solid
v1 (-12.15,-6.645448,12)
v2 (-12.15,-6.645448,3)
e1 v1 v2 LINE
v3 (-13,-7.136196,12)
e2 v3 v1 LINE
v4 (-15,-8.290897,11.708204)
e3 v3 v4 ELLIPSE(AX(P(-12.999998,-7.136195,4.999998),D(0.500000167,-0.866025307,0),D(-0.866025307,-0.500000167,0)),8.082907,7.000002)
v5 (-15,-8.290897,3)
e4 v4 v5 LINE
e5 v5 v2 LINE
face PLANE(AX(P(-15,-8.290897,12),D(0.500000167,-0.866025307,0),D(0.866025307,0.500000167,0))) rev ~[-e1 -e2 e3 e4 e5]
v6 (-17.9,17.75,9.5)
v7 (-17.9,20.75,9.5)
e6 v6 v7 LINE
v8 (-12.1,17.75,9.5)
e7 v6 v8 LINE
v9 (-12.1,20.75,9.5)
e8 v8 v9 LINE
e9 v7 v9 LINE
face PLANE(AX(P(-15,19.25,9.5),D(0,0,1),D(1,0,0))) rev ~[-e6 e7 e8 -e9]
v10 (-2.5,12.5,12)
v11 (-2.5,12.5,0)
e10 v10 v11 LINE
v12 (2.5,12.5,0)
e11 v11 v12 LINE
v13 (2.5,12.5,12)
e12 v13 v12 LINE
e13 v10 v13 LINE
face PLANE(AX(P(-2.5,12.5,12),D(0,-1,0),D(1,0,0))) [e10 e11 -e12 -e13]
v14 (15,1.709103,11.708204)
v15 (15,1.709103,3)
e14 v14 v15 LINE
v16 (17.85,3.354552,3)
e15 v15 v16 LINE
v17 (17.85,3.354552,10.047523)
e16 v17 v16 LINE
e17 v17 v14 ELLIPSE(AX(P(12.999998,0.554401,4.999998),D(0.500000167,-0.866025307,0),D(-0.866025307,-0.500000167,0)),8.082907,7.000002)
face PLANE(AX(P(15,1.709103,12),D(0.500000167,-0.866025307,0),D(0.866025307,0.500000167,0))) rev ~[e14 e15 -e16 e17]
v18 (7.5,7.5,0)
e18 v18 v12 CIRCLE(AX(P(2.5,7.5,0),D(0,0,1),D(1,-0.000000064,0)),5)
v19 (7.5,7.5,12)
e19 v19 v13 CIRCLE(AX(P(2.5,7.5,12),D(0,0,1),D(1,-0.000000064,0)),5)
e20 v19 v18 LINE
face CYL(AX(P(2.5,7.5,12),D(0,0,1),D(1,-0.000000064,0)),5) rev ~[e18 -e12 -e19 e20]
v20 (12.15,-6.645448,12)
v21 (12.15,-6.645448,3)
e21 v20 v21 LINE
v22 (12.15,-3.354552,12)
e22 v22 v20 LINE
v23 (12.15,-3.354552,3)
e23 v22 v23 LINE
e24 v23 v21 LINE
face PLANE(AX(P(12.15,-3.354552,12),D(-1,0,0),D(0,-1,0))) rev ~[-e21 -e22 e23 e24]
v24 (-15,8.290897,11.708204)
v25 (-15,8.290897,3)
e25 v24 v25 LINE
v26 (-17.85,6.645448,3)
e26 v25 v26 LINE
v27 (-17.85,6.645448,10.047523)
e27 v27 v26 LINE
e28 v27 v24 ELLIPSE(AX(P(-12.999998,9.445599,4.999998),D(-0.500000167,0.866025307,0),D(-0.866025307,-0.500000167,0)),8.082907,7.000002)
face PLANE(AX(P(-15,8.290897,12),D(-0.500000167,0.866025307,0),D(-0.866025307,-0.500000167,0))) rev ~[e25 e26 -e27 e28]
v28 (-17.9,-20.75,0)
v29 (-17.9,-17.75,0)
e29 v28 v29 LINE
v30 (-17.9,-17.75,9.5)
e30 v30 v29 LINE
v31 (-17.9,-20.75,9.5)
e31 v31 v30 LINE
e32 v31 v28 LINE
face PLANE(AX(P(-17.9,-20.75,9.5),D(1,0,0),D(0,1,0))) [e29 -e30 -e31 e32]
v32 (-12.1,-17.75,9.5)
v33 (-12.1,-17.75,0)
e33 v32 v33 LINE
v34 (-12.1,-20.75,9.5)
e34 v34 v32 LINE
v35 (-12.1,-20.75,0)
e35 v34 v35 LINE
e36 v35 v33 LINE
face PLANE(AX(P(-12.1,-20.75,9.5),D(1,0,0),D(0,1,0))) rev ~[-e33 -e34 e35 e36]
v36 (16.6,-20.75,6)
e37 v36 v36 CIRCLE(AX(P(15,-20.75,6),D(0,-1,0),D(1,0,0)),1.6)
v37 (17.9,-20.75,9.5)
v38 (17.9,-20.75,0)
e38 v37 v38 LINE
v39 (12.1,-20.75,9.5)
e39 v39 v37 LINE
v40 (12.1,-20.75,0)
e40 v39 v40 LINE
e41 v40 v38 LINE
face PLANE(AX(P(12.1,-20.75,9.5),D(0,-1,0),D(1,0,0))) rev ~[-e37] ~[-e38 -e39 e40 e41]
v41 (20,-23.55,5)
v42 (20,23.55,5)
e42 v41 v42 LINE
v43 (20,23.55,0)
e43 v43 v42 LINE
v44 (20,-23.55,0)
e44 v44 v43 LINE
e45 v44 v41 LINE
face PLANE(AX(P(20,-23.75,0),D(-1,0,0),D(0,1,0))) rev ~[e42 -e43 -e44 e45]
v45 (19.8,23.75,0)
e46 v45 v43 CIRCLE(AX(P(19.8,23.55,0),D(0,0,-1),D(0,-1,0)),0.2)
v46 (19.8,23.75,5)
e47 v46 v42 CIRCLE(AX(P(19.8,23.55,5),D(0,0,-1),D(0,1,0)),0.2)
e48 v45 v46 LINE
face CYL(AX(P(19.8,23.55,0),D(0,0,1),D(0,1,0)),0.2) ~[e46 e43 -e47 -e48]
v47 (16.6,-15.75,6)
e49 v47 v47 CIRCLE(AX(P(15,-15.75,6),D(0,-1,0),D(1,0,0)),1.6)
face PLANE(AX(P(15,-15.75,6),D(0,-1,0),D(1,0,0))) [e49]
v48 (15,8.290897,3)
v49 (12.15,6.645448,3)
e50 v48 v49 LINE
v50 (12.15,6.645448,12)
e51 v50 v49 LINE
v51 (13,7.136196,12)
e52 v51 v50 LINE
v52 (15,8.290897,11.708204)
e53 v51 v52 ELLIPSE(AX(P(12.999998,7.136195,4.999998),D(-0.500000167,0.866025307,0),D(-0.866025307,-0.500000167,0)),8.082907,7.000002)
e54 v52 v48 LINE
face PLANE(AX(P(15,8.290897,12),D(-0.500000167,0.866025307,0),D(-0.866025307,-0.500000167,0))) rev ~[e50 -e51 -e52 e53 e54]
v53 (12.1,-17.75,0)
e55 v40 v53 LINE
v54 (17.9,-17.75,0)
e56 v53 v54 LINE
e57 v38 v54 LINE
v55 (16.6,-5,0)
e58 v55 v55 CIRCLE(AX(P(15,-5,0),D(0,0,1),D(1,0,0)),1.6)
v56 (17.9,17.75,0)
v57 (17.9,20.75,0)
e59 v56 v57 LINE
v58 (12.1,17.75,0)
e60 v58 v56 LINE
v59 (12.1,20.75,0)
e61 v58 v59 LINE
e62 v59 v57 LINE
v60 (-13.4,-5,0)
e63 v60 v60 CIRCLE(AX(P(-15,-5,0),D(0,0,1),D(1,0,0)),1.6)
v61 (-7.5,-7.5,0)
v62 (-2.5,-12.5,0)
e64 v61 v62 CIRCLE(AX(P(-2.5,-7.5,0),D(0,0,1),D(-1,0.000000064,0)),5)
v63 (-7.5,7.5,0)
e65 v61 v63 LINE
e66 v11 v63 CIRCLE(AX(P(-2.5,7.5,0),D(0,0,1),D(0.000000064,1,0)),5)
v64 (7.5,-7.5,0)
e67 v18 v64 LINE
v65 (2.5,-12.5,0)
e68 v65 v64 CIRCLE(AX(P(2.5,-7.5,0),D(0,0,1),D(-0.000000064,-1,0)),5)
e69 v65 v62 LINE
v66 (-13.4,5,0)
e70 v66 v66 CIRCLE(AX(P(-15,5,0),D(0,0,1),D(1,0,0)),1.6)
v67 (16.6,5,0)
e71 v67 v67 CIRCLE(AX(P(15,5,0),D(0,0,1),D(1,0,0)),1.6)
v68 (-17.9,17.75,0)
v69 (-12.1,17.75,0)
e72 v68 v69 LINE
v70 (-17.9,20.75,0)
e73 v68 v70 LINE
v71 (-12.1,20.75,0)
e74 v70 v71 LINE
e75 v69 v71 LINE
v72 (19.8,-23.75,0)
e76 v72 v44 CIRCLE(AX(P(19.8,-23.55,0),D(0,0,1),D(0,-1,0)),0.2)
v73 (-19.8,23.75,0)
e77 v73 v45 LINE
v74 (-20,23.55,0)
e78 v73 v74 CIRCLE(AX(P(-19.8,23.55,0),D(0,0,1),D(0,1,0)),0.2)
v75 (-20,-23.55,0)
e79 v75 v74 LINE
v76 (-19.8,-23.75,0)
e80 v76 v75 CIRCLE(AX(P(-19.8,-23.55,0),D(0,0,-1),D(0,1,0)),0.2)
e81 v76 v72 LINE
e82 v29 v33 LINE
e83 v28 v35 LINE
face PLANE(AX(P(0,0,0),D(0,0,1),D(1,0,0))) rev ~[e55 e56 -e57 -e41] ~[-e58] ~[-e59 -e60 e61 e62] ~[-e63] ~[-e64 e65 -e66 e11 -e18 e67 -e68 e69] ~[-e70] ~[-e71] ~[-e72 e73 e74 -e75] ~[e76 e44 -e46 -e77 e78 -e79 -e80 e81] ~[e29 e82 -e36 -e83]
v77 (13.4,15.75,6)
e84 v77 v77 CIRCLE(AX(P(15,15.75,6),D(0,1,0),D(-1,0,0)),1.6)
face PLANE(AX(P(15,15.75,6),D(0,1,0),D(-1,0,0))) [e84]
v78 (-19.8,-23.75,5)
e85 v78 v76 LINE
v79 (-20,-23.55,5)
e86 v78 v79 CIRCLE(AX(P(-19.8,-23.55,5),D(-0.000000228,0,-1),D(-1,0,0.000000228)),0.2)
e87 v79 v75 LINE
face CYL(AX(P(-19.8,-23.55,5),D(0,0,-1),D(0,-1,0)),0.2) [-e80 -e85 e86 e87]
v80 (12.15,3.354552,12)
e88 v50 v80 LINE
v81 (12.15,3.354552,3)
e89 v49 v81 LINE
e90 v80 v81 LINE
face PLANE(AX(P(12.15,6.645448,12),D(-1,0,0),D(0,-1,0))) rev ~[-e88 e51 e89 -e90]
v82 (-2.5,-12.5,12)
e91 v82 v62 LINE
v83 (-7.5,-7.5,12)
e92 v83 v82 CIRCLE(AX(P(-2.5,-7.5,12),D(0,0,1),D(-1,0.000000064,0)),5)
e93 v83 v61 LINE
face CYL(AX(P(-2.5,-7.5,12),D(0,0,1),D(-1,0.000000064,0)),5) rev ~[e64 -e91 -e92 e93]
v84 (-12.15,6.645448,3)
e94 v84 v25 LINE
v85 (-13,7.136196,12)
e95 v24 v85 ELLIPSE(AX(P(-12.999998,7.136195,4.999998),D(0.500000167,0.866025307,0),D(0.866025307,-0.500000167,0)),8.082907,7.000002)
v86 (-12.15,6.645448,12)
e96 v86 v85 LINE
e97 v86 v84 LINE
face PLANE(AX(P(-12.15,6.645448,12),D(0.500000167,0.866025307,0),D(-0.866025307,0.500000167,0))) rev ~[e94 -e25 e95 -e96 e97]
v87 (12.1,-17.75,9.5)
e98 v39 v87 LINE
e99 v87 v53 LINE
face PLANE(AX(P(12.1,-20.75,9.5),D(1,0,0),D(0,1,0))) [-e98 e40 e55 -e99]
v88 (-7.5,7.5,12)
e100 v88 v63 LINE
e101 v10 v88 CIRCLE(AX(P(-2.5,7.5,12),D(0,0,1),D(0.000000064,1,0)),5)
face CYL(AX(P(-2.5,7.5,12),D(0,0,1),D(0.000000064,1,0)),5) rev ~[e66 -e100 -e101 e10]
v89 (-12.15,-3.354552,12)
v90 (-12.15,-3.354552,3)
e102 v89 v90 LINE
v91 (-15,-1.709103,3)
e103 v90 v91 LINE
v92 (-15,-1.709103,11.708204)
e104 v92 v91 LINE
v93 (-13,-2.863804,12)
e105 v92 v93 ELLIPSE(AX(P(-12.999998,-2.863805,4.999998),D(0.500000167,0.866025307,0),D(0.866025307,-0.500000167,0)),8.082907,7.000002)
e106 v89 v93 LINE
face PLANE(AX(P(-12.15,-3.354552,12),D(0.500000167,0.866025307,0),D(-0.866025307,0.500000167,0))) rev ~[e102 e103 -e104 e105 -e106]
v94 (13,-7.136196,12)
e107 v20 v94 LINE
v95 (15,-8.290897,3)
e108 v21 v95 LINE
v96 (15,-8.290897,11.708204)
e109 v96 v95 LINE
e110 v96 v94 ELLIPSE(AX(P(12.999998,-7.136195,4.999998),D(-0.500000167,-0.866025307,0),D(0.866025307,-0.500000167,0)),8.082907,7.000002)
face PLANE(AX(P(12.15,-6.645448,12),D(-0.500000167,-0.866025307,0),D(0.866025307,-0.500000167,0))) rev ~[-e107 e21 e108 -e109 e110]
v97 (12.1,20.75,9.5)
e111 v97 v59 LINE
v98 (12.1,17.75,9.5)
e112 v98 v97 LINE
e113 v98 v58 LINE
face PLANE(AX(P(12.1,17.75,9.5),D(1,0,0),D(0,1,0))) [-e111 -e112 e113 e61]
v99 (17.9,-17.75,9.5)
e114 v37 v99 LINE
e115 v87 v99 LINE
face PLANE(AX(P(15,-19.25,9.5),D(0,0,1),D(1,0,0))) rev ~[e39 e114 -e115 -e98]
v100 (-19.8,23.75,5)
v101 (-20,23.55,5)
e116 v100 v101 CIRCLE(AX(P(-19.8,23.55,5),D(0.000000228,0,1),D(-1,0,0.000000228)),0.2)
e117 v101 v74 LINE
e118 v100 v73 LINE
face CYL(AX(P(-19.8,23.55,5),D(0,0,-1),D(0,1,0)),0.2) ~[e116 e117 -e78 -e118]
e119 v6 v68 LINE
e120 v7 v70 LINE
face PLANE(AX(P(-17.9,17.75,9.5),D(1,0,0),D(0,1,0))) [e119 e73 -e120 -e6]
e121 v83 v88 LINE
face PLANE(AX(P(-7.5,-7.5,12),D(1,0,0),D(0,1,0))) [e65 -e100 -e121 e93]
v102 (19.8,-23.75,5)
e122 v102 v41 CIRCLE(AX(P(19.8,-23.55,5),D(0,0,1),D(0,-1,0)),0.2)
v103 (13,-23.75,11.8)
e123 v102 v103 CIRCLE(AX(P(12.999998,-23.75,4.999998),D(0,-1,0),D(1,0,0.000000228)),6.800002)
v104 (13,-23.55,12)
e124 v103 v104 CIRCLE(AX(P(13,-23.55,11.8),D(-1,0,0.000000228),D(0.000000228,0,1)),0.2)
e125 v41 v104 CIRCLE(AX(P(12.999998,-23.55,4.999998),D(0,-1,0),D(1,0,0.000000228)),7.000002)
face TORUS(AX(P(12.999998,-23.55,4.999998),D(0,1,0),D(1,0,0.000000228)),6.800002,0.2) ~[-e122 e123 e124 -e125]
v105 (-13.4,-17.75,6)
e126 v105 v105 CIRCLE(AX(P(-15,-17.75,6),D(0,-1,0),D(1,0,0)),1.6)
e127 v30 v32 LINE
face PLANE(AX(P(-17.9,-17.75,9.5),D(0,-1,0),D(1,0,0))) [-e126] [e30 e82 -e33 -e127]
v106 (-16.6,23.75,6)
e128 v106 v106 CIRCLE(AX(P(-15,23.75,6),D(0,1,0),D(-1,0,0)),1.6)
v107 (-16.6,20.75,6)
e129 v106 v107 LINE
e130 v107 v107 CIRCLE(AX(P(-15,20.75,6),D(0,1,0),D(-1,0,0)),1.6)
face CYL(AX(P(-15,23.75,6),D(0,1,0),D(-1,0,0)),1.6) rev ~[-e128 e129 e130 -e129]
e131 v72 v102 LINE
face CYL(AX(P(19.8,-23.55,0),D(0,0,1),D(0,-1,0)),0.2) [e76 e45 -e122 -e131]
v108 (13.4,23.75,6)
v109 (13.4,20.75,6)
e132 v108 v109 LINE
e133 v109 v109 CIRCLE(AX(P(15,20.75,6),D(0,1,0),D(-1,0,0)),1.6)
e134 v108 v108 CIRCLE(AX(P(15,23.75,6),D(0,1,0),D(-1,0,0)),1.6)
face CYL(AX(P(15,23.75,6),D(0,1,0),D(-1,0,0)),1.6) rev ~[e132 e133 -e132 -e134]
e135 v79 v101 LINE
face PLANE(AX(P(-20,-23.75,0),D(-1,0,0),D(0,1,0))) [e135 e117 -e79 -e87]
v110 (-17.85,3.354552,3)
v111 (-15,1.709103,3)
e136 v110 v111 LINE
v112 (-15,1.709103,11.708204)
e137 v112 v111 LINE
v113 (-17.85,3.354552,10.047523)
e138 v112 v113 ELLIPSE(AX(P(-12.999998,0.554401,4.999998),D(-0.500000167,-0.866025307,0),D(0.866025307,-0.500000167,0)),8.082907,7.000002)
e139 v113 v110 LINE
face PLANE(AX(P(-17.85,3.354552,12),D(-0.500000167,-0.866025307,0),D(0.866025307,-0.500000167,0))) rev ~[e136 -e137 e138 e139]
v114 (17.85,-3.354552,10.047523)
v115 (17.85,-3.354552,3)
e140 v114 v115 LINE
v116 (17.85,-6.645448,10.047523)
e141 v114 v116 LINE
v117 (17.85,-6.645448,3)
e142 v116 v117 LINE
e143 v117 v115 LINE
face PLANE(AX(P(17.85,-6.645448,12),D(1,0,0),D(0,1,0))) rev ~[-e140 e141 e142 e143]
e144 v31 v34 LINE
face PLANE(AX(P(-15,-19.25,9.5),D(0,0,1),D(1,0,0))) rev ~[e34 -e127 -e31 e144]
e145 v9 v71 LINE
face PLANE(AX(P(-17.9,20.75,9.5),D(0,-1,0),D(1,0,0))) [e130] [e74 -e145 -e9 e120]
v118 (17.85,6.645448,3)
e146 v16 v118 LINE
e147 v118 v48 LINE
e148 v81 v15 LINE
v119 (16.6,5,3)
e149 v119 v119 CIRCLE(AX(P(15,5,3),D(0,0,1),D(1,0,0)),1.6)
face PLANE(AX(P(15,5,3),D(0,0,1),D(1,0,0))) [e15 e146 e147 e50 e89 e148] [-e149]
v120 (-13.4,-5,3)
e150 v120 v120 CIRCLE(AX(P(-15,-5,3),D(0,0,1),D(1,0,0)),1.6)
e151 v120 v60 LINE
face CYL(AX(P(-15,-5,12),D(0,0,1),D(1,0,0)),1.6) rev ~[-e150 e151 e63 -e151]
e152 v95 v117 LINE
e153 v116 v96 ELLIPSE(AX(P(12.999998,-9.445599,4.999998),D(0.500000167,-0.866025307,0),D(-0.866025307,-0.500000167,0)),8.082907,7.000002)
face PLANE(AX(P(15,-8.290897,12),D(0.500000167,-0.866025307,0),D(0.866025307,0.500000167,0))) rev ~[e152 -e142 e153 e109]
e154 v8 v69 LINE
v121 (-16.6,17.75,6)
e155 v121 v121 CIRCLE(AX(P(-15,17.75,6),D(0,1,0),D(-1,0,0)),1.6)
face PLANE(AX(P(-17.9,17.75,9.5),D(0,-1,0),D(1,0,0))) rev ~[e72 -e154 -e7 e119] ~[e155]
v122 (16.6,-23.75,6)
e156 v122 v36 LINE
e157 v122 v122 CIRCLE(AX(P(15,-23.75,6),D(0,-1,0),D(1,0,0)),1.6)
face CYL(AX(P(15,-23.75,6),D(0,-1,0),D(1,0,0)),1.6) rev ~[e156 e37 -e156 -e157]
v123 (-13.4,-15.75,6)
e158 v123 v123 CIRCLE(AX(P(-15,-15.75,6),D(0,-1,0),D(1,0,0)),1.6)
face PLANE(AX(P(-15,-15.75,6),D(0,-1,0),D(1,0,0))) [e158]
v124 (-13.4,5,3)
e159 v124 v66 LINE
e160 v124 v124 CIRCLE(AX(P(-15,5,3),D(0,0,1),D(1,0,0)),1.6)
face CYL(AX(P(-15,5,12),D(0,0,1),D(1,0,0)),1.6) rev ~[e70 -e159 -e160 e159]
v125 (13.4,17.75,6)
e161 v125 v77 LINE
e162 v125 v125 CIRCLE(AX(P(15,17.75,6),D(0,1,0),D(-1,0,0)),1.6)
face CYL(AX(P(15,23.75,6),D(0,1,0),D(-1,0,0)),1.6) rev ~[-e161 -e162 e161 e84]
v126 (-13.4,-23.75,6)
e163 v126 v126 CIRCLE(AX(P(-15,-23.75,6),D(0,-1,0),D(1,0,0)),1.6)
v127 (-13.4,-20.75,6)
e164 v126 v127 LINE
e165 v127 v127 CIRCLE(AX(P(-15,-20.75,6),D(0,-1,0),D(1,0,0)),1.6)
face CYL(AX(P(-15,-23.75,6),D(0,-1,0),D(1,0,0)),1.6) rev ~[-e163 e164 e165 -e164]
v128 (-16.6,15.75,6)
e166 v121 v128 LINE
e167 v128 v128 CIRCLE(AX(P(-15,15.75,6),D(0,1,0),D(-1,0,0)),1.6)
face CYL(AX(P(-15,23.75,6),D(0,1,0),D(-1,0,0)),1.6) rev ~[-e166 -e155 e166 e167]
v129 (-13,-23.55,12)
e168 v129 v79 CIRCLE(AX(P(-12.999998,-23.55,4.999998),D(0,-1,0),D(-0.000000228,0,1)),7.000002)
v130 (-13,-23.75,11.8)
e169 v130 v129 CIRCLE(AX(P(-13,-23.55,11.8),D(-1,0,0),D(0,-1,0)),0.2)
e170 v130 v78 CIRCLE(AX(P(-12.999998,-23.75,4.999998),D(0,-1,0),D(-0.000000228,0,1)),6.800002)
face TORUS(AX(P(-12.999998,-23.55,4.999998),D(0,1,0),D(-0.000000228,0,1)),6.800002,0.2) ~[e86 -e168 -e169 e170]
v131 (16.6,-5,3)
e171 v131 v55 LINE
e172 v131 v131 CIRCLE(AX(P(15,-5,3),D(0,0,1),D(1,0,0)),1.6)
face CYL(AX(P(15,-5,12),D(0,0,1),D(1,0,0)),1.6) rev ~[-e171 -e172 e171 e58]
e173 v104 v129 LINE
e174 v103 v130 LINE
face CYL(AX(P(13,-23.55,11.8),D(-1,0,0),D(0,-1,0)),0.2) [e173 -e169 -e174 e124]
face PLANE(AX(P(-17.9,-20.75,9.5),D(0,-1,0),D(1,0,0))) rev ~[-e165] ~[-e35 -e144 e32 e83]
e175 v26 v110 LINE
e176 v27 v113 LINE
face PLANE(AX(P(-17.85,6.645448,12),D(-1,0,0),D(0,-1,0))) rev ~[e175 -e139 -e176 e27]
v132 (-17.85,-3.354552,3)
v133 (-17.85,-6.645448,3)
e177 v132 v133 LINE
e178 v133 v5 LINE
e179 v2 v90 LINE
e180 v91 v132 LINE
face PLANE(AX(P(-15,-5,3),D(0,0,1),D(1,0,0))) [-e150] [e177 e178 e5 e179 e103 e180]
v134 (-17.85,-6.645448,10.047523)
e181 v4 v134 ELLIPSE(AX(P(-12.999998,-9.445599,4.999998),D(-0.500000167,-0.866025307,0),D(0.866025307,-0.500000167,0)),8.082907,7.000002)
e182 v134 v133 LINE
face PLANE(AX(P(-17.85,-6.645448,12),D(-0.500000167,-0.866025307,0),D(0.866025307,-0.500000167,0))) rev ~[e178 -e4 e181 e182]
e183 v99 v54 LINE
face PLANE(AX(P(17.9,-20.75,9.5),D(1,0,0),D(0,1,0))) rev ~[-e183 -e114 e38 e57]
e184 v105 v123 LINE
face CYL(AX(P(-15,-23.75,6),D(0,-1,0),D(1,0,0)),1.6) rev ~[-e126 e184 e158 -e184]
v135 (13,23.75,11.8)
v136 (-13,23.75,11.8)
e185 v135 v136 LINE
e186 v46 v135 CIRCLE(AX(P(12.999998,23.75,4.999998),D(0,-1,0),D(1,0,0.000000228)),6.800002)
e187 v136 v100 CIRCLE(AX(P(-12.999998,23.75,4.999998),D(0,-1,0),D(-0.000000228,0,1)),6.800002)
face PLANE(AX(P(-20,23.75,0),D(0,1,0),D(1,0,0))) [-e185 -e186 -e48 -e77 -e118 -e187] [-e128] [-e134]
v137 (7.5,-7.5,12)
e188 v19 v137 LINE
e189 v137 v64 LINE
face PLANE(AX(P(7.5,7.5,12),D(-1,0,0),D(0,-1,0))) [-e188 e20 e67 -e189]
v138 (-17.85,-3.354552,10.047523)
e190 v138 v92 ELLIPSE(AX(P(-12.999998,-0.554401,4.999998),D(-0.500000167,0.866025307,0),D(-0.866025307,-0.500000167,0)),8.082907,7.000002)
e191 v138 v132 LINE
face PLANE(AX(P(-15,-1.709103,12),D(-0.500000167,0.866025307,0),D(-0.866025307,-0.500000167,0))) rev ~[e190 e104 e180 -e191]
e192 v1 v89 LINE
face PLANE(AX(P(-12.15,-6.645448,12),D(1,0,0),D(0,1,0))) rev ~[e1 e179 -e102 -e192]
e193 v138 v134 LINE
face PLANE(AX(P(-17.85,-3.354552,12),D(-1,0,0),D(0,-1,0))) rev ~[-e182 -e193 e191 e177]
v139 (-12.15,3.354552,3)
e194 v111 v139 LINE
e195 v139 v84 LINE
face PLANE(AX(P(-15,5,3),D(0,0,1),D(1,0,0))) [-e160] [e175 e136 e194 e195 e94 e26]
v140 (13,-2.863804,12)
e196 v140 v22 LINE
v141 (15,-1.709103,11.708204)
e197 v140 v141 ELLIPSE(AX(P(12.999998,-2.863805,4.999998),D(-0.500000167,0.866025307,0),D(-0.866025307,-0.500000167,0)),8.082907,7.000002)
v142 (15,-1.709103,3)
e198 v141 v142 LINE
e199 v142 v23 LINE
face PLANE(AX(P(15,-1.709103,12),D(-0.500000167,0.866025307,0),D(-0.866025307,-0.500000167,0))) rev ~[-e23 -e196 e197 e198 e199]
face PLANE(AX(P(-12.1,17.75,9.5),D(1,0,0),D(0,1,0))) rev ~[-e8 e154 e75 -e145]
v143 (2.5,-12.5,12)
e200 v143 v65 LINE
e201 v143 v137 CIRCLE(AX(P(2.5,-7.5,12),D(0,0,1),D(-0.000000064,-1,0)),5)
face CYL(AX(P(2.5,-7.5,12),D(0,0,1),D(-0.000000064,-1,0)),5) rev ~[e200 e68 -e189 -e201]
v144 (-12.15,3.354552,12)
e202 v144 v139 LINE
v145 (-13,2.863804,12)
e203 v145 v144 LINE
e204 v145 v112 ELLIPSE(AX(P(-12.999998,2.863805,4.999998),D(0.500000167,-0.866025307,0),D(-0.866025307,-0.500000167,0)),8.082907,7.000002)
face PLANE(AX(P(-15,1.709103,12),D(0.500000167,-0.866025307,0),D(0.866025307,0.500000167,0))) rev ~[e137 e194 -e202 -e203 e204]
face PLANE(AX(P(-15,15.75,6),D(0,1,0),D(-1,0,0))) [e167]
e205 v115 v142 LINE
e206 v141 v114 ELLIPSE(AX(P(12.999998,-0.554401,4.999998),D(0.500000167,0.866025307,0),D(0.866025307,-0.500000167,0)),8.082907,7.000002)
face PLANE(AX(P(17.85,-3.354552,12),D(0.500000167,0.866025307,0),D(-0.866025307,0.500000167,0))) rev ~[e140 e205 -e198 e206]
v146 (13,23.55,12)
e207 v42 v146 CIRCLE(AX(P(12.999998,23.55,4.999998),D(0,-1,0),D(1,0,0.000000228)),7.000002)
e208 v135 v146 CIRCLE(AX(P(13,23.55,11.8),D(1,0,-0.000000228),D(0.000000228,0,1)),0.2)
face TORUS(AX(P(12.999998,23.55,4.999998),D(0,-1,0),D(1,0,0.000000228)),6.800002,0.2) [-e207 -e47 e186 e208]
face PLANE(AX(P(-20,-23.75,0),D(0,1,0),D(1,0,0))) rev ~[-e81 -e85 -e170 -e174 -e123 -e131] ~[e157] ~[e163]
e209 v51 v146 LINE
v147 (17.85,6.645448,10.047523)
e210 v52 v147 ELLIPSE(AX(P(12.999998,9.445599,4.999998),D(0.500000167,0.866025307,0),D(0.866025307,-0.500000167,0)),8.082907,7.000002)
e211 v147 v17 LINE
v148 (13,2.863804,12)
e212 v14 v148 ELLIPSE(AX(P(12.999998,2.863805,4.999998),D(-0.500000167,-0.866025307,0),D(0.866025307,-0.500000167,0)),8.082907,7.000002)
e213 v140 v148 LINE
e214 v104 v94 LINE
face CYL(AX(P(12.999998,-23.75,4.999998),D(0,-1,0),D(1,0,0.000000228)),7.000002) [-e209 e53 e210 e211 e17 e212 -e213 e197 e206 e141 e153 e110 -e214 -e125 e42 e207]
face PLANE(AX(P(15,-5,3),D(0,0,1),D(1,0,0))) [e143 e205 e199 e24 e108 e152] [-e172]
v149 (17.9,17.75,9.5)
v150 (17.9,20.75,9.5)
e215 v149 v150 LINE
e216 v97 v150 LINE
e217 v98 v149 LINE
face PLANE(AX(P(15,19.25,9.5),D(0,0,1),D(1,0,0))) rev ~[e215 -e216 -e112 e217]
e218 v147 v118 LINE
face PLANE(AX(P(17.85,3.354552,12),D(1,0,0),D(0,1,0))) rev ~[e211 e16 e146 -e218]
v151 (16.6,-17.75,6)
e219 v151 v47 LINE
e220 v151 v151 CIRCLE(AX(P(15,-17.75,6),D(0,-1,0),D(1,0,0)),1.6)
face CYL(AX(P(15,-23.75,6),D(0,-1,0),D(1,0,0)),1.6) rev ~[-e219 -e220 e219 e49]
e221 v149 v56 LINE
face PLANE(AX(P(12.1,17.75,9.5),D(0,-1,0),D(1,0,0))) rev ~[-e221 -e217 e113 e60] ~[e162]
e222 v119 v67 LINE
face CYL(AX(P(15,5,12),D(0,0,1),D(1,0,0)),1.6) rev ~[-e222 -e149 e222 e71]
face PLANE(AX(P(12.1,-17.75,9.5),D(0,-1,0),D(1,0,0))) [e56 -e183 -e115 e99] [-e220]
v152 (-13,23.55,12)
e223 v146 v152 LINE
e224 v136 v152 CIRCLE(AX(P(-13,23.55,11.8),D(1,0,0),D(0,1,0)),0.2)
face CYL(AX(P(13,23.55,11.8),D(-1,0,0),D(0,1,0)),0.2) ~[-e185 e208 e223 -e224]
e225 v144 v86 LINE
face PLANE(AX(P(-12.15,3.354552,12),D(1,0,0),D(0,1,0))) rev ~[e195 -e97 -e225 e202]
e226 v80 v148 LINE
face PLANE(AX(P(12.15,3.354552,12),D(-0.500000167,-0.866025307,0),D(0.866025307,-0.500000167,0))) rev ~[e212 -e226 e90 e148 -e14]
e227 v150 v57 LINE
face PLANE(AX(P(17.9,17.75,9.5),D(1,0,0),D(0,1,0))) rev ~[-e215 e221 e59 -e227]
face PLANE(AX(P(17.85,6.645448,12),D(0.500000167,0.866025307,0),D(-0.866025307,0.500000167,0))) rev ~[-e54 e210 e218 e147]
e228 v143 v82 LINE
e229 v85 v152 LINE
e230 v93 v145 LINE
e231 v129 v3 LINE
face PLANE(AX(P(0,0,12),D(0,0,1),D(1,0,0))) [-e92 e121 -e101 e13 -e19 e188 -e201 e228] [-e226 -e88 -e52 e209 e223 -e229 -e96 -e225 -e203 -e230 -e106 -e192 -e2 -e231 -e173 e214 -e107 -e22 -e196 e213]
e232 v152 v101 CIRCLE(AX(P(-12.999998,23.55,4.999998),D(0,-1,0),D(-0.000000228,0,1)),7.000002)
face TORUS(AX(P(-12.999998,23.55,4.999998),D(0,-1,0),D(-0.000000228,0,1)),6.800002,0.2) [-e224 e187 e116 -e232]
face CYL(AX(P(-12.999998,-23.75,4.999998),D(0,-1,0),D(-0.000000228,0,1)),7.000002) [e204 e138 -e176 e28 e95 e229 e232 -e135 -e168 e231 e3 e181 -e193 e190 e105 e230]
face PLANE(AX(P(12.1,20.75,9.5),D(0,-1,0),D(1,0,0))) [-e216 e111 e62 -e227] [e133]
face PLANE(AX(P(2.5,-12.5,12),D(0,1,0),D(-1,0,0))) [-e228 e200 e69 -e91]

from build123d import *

# Parameters (mm, degrees)
SKETCH_W        = 40
SKETCH_H        = 47.5
PAD_DEPTH       = 12
SKETCH001_R     = 1.6
POCKET_DEPTH    = 8
SKETCH002_R     = 1.6
POCKET001_DEPTH = 8
SKETCH003_W     = 5.8
SKETCH003_H     = 3
POCKET002_DEPTH = 12
SKETCH004_R     = 1.6
POCKET003_DEPTH = 12
POCKET004_DEPTH = 9
POCKET005_DEPTH = 12
POCKET006_DEPTH = 50
FILLET_R        = 0.2


with BuildPart() as part:
    # Sketch → Pad (new body)
    with BuildSketch(Plane.XY):
        Rectangle(SKETCH_W, SKETCH_H)
    extrude(amount=PAD_DEPTH)

    # Sketch001 (on Face3 of Pad) → Pocket (cut)
    with BuildSketch(Plane.XZ.offset(23.75)):
        with Locations((-15, 6)):
            Circle(SKETCH001_R)
        with Locations((15, 6)):
            Circle(SKETCH001_R)
    extrude(amount=-POCKET_DEPTH, mode=Mode.SUBTRACT)

    # Sketch002 (on Face1 of Pocket) → Pocket001 (cut)
    with BuildSketch(Plane(origin=(0, 23.75, 0), x_dir=(-1, 0, 0), z_dir=(0, 1, 0))):
        with Locations((-15, 6)):
            Circle(SKETCH002_R)
        with Locations((15, 6)):
            Circle(SKETCH002_R)
    extrude(amount=-POCKET001_DEPTH, mode=Mode.SUBTRACT)

    # Sketch003 (on Face4 of Pocket001) → Pocket002 (cut)
    with BuildSketch(Plane.XY.offset(9.5)):
        with Locations((-15, 19.25)):
            Rectangle(SKETCH003_W, SKETCH003_H)
        with Locations((15, 19.25)):
            Rectangle(SKETCH003_W, SKETCH003_H)
        with Locations((-15, -19.25)):
            Rectangle(SKETCH003_W, SKETCH003_H)
        with Locations((15, -19.25)):
            Rectangle(SKETCH003_W, SKETCH003_H)
    extrude(amount=-POCKET002_DEPTH, mode=Mode.SUBTRACT)

    # Sketch004 (on Face4 of Pocket002) → Pocket003 (cut)
    with BuildSketch(Plane.XY.offset(12)):
        with Locations((-15, 5)):
            Circle(SKETCH004_R)
        with Locations((15, 5)):
            Circle(SKETCH004_R)
        with Locations((-15, -5)):
            Circle(SKETCH004_R)
        with Locations((15, -5)):
            Circle(SKETCH004_R)
    extrude(amount=-POCKET003_DEPTH, mode=Mode.SUBTRACT)

    # Sketch005 (on Face4 of Pocket003) → Pocket004 (cut)
    with BuildSketch(Plane.XY.offset(12)):
        Polygon((-15, 8.290897), (-17.85, 6.645448), (-17.85, 3.354552), (-15, 1.709103), (-12.15, 3.354552), (-12.15, 6.645448), align=None)
        Polygon((15, 8.290897), (12.15, 6.645448), (12.15, 3.354552), (15, 1.709103), (17.85, 3.354552), (17.85, 6.645448), align=None)
        Polygon((-15, -1.709103), (-17.85, -3.354552), (-17.85, -6.645448), (-15, -8.290897), (-12.15, -6.645448), (-12.15, -3.354552), align=None)
        Polygon((15, -1.709103), (12.15, -3.354552), (12.15, -6.645448), (15, -8.290897), (17.85, -6.645448), (17.85, -3.354552), align=None)
    extrude(amount=-POCKET004_DEPTH, mode=Mode.SUBTRACT)

    # Sketch006 → Pocket005 (cut)
    with BuildSketch(Plane.XY.offset(12)):
        with BuildLine():
            Line((-2.5, 12.5), (2.5, 12.5))
            ThreePointArc((7.5, 7.5), (6.035534, 11.035534), (2.5, 12.5))
            Line((7.5, 7.5), (7.5, -7.5))
            ThreePointArc((2.5, -12.5), (6.035534, -11.035534), (7.5, -7.5))
            Line((2.5, -12.5), (-2.5, -12.5))
            ThreePointArc((-7.5, -7.5), (-6.035534, -11.035534), (-2.5, -12.5))
            Line((-7.5, -7.5), (-7.5, 7.5))
            ThreePointArc((-2.5, 12.5), (-6.035534, 11.035534), (-7.5, 7.5))
        make_face()
    extrude(amount=-POCKET005_DEPTH, mode=Mode.SUBTRACT)

    # Sketch009 (on Face8 of Pocket005) → Pocket006 (cut)
    with BuildSketch(Plane.XZ.offset(23.75)):
        with BuildLine():
            ThreePointArc((-13, 12), (-17.949747, 9.949747), (-20, 5))
            Line((-20, 5), (-20, 13))
            Line((-20, 13), (20, 13))
            Line((20, 13), (20, 5))
            ThreePointArc((20, 5), (17.949747, 9.949747), (13, 12))
            Line((13, 12), (-13, 12))
        make_face()
    extrude(amount=-POCKET006_DEPTH, mode=Mode.SUBTRACT)

    # Fillet
    fillet_edges = [part.edges().sort_by_distance(p)[0] for p in [
        (20, -23.75, 2.5),
        (-20, -23.75, 2.5),
        (20, 23.75, 2.5),
        (-20, 23.75, 2.5),
    ]]
    fillet(fillet_edges, radius=FILLET_R)


solid = part.part
